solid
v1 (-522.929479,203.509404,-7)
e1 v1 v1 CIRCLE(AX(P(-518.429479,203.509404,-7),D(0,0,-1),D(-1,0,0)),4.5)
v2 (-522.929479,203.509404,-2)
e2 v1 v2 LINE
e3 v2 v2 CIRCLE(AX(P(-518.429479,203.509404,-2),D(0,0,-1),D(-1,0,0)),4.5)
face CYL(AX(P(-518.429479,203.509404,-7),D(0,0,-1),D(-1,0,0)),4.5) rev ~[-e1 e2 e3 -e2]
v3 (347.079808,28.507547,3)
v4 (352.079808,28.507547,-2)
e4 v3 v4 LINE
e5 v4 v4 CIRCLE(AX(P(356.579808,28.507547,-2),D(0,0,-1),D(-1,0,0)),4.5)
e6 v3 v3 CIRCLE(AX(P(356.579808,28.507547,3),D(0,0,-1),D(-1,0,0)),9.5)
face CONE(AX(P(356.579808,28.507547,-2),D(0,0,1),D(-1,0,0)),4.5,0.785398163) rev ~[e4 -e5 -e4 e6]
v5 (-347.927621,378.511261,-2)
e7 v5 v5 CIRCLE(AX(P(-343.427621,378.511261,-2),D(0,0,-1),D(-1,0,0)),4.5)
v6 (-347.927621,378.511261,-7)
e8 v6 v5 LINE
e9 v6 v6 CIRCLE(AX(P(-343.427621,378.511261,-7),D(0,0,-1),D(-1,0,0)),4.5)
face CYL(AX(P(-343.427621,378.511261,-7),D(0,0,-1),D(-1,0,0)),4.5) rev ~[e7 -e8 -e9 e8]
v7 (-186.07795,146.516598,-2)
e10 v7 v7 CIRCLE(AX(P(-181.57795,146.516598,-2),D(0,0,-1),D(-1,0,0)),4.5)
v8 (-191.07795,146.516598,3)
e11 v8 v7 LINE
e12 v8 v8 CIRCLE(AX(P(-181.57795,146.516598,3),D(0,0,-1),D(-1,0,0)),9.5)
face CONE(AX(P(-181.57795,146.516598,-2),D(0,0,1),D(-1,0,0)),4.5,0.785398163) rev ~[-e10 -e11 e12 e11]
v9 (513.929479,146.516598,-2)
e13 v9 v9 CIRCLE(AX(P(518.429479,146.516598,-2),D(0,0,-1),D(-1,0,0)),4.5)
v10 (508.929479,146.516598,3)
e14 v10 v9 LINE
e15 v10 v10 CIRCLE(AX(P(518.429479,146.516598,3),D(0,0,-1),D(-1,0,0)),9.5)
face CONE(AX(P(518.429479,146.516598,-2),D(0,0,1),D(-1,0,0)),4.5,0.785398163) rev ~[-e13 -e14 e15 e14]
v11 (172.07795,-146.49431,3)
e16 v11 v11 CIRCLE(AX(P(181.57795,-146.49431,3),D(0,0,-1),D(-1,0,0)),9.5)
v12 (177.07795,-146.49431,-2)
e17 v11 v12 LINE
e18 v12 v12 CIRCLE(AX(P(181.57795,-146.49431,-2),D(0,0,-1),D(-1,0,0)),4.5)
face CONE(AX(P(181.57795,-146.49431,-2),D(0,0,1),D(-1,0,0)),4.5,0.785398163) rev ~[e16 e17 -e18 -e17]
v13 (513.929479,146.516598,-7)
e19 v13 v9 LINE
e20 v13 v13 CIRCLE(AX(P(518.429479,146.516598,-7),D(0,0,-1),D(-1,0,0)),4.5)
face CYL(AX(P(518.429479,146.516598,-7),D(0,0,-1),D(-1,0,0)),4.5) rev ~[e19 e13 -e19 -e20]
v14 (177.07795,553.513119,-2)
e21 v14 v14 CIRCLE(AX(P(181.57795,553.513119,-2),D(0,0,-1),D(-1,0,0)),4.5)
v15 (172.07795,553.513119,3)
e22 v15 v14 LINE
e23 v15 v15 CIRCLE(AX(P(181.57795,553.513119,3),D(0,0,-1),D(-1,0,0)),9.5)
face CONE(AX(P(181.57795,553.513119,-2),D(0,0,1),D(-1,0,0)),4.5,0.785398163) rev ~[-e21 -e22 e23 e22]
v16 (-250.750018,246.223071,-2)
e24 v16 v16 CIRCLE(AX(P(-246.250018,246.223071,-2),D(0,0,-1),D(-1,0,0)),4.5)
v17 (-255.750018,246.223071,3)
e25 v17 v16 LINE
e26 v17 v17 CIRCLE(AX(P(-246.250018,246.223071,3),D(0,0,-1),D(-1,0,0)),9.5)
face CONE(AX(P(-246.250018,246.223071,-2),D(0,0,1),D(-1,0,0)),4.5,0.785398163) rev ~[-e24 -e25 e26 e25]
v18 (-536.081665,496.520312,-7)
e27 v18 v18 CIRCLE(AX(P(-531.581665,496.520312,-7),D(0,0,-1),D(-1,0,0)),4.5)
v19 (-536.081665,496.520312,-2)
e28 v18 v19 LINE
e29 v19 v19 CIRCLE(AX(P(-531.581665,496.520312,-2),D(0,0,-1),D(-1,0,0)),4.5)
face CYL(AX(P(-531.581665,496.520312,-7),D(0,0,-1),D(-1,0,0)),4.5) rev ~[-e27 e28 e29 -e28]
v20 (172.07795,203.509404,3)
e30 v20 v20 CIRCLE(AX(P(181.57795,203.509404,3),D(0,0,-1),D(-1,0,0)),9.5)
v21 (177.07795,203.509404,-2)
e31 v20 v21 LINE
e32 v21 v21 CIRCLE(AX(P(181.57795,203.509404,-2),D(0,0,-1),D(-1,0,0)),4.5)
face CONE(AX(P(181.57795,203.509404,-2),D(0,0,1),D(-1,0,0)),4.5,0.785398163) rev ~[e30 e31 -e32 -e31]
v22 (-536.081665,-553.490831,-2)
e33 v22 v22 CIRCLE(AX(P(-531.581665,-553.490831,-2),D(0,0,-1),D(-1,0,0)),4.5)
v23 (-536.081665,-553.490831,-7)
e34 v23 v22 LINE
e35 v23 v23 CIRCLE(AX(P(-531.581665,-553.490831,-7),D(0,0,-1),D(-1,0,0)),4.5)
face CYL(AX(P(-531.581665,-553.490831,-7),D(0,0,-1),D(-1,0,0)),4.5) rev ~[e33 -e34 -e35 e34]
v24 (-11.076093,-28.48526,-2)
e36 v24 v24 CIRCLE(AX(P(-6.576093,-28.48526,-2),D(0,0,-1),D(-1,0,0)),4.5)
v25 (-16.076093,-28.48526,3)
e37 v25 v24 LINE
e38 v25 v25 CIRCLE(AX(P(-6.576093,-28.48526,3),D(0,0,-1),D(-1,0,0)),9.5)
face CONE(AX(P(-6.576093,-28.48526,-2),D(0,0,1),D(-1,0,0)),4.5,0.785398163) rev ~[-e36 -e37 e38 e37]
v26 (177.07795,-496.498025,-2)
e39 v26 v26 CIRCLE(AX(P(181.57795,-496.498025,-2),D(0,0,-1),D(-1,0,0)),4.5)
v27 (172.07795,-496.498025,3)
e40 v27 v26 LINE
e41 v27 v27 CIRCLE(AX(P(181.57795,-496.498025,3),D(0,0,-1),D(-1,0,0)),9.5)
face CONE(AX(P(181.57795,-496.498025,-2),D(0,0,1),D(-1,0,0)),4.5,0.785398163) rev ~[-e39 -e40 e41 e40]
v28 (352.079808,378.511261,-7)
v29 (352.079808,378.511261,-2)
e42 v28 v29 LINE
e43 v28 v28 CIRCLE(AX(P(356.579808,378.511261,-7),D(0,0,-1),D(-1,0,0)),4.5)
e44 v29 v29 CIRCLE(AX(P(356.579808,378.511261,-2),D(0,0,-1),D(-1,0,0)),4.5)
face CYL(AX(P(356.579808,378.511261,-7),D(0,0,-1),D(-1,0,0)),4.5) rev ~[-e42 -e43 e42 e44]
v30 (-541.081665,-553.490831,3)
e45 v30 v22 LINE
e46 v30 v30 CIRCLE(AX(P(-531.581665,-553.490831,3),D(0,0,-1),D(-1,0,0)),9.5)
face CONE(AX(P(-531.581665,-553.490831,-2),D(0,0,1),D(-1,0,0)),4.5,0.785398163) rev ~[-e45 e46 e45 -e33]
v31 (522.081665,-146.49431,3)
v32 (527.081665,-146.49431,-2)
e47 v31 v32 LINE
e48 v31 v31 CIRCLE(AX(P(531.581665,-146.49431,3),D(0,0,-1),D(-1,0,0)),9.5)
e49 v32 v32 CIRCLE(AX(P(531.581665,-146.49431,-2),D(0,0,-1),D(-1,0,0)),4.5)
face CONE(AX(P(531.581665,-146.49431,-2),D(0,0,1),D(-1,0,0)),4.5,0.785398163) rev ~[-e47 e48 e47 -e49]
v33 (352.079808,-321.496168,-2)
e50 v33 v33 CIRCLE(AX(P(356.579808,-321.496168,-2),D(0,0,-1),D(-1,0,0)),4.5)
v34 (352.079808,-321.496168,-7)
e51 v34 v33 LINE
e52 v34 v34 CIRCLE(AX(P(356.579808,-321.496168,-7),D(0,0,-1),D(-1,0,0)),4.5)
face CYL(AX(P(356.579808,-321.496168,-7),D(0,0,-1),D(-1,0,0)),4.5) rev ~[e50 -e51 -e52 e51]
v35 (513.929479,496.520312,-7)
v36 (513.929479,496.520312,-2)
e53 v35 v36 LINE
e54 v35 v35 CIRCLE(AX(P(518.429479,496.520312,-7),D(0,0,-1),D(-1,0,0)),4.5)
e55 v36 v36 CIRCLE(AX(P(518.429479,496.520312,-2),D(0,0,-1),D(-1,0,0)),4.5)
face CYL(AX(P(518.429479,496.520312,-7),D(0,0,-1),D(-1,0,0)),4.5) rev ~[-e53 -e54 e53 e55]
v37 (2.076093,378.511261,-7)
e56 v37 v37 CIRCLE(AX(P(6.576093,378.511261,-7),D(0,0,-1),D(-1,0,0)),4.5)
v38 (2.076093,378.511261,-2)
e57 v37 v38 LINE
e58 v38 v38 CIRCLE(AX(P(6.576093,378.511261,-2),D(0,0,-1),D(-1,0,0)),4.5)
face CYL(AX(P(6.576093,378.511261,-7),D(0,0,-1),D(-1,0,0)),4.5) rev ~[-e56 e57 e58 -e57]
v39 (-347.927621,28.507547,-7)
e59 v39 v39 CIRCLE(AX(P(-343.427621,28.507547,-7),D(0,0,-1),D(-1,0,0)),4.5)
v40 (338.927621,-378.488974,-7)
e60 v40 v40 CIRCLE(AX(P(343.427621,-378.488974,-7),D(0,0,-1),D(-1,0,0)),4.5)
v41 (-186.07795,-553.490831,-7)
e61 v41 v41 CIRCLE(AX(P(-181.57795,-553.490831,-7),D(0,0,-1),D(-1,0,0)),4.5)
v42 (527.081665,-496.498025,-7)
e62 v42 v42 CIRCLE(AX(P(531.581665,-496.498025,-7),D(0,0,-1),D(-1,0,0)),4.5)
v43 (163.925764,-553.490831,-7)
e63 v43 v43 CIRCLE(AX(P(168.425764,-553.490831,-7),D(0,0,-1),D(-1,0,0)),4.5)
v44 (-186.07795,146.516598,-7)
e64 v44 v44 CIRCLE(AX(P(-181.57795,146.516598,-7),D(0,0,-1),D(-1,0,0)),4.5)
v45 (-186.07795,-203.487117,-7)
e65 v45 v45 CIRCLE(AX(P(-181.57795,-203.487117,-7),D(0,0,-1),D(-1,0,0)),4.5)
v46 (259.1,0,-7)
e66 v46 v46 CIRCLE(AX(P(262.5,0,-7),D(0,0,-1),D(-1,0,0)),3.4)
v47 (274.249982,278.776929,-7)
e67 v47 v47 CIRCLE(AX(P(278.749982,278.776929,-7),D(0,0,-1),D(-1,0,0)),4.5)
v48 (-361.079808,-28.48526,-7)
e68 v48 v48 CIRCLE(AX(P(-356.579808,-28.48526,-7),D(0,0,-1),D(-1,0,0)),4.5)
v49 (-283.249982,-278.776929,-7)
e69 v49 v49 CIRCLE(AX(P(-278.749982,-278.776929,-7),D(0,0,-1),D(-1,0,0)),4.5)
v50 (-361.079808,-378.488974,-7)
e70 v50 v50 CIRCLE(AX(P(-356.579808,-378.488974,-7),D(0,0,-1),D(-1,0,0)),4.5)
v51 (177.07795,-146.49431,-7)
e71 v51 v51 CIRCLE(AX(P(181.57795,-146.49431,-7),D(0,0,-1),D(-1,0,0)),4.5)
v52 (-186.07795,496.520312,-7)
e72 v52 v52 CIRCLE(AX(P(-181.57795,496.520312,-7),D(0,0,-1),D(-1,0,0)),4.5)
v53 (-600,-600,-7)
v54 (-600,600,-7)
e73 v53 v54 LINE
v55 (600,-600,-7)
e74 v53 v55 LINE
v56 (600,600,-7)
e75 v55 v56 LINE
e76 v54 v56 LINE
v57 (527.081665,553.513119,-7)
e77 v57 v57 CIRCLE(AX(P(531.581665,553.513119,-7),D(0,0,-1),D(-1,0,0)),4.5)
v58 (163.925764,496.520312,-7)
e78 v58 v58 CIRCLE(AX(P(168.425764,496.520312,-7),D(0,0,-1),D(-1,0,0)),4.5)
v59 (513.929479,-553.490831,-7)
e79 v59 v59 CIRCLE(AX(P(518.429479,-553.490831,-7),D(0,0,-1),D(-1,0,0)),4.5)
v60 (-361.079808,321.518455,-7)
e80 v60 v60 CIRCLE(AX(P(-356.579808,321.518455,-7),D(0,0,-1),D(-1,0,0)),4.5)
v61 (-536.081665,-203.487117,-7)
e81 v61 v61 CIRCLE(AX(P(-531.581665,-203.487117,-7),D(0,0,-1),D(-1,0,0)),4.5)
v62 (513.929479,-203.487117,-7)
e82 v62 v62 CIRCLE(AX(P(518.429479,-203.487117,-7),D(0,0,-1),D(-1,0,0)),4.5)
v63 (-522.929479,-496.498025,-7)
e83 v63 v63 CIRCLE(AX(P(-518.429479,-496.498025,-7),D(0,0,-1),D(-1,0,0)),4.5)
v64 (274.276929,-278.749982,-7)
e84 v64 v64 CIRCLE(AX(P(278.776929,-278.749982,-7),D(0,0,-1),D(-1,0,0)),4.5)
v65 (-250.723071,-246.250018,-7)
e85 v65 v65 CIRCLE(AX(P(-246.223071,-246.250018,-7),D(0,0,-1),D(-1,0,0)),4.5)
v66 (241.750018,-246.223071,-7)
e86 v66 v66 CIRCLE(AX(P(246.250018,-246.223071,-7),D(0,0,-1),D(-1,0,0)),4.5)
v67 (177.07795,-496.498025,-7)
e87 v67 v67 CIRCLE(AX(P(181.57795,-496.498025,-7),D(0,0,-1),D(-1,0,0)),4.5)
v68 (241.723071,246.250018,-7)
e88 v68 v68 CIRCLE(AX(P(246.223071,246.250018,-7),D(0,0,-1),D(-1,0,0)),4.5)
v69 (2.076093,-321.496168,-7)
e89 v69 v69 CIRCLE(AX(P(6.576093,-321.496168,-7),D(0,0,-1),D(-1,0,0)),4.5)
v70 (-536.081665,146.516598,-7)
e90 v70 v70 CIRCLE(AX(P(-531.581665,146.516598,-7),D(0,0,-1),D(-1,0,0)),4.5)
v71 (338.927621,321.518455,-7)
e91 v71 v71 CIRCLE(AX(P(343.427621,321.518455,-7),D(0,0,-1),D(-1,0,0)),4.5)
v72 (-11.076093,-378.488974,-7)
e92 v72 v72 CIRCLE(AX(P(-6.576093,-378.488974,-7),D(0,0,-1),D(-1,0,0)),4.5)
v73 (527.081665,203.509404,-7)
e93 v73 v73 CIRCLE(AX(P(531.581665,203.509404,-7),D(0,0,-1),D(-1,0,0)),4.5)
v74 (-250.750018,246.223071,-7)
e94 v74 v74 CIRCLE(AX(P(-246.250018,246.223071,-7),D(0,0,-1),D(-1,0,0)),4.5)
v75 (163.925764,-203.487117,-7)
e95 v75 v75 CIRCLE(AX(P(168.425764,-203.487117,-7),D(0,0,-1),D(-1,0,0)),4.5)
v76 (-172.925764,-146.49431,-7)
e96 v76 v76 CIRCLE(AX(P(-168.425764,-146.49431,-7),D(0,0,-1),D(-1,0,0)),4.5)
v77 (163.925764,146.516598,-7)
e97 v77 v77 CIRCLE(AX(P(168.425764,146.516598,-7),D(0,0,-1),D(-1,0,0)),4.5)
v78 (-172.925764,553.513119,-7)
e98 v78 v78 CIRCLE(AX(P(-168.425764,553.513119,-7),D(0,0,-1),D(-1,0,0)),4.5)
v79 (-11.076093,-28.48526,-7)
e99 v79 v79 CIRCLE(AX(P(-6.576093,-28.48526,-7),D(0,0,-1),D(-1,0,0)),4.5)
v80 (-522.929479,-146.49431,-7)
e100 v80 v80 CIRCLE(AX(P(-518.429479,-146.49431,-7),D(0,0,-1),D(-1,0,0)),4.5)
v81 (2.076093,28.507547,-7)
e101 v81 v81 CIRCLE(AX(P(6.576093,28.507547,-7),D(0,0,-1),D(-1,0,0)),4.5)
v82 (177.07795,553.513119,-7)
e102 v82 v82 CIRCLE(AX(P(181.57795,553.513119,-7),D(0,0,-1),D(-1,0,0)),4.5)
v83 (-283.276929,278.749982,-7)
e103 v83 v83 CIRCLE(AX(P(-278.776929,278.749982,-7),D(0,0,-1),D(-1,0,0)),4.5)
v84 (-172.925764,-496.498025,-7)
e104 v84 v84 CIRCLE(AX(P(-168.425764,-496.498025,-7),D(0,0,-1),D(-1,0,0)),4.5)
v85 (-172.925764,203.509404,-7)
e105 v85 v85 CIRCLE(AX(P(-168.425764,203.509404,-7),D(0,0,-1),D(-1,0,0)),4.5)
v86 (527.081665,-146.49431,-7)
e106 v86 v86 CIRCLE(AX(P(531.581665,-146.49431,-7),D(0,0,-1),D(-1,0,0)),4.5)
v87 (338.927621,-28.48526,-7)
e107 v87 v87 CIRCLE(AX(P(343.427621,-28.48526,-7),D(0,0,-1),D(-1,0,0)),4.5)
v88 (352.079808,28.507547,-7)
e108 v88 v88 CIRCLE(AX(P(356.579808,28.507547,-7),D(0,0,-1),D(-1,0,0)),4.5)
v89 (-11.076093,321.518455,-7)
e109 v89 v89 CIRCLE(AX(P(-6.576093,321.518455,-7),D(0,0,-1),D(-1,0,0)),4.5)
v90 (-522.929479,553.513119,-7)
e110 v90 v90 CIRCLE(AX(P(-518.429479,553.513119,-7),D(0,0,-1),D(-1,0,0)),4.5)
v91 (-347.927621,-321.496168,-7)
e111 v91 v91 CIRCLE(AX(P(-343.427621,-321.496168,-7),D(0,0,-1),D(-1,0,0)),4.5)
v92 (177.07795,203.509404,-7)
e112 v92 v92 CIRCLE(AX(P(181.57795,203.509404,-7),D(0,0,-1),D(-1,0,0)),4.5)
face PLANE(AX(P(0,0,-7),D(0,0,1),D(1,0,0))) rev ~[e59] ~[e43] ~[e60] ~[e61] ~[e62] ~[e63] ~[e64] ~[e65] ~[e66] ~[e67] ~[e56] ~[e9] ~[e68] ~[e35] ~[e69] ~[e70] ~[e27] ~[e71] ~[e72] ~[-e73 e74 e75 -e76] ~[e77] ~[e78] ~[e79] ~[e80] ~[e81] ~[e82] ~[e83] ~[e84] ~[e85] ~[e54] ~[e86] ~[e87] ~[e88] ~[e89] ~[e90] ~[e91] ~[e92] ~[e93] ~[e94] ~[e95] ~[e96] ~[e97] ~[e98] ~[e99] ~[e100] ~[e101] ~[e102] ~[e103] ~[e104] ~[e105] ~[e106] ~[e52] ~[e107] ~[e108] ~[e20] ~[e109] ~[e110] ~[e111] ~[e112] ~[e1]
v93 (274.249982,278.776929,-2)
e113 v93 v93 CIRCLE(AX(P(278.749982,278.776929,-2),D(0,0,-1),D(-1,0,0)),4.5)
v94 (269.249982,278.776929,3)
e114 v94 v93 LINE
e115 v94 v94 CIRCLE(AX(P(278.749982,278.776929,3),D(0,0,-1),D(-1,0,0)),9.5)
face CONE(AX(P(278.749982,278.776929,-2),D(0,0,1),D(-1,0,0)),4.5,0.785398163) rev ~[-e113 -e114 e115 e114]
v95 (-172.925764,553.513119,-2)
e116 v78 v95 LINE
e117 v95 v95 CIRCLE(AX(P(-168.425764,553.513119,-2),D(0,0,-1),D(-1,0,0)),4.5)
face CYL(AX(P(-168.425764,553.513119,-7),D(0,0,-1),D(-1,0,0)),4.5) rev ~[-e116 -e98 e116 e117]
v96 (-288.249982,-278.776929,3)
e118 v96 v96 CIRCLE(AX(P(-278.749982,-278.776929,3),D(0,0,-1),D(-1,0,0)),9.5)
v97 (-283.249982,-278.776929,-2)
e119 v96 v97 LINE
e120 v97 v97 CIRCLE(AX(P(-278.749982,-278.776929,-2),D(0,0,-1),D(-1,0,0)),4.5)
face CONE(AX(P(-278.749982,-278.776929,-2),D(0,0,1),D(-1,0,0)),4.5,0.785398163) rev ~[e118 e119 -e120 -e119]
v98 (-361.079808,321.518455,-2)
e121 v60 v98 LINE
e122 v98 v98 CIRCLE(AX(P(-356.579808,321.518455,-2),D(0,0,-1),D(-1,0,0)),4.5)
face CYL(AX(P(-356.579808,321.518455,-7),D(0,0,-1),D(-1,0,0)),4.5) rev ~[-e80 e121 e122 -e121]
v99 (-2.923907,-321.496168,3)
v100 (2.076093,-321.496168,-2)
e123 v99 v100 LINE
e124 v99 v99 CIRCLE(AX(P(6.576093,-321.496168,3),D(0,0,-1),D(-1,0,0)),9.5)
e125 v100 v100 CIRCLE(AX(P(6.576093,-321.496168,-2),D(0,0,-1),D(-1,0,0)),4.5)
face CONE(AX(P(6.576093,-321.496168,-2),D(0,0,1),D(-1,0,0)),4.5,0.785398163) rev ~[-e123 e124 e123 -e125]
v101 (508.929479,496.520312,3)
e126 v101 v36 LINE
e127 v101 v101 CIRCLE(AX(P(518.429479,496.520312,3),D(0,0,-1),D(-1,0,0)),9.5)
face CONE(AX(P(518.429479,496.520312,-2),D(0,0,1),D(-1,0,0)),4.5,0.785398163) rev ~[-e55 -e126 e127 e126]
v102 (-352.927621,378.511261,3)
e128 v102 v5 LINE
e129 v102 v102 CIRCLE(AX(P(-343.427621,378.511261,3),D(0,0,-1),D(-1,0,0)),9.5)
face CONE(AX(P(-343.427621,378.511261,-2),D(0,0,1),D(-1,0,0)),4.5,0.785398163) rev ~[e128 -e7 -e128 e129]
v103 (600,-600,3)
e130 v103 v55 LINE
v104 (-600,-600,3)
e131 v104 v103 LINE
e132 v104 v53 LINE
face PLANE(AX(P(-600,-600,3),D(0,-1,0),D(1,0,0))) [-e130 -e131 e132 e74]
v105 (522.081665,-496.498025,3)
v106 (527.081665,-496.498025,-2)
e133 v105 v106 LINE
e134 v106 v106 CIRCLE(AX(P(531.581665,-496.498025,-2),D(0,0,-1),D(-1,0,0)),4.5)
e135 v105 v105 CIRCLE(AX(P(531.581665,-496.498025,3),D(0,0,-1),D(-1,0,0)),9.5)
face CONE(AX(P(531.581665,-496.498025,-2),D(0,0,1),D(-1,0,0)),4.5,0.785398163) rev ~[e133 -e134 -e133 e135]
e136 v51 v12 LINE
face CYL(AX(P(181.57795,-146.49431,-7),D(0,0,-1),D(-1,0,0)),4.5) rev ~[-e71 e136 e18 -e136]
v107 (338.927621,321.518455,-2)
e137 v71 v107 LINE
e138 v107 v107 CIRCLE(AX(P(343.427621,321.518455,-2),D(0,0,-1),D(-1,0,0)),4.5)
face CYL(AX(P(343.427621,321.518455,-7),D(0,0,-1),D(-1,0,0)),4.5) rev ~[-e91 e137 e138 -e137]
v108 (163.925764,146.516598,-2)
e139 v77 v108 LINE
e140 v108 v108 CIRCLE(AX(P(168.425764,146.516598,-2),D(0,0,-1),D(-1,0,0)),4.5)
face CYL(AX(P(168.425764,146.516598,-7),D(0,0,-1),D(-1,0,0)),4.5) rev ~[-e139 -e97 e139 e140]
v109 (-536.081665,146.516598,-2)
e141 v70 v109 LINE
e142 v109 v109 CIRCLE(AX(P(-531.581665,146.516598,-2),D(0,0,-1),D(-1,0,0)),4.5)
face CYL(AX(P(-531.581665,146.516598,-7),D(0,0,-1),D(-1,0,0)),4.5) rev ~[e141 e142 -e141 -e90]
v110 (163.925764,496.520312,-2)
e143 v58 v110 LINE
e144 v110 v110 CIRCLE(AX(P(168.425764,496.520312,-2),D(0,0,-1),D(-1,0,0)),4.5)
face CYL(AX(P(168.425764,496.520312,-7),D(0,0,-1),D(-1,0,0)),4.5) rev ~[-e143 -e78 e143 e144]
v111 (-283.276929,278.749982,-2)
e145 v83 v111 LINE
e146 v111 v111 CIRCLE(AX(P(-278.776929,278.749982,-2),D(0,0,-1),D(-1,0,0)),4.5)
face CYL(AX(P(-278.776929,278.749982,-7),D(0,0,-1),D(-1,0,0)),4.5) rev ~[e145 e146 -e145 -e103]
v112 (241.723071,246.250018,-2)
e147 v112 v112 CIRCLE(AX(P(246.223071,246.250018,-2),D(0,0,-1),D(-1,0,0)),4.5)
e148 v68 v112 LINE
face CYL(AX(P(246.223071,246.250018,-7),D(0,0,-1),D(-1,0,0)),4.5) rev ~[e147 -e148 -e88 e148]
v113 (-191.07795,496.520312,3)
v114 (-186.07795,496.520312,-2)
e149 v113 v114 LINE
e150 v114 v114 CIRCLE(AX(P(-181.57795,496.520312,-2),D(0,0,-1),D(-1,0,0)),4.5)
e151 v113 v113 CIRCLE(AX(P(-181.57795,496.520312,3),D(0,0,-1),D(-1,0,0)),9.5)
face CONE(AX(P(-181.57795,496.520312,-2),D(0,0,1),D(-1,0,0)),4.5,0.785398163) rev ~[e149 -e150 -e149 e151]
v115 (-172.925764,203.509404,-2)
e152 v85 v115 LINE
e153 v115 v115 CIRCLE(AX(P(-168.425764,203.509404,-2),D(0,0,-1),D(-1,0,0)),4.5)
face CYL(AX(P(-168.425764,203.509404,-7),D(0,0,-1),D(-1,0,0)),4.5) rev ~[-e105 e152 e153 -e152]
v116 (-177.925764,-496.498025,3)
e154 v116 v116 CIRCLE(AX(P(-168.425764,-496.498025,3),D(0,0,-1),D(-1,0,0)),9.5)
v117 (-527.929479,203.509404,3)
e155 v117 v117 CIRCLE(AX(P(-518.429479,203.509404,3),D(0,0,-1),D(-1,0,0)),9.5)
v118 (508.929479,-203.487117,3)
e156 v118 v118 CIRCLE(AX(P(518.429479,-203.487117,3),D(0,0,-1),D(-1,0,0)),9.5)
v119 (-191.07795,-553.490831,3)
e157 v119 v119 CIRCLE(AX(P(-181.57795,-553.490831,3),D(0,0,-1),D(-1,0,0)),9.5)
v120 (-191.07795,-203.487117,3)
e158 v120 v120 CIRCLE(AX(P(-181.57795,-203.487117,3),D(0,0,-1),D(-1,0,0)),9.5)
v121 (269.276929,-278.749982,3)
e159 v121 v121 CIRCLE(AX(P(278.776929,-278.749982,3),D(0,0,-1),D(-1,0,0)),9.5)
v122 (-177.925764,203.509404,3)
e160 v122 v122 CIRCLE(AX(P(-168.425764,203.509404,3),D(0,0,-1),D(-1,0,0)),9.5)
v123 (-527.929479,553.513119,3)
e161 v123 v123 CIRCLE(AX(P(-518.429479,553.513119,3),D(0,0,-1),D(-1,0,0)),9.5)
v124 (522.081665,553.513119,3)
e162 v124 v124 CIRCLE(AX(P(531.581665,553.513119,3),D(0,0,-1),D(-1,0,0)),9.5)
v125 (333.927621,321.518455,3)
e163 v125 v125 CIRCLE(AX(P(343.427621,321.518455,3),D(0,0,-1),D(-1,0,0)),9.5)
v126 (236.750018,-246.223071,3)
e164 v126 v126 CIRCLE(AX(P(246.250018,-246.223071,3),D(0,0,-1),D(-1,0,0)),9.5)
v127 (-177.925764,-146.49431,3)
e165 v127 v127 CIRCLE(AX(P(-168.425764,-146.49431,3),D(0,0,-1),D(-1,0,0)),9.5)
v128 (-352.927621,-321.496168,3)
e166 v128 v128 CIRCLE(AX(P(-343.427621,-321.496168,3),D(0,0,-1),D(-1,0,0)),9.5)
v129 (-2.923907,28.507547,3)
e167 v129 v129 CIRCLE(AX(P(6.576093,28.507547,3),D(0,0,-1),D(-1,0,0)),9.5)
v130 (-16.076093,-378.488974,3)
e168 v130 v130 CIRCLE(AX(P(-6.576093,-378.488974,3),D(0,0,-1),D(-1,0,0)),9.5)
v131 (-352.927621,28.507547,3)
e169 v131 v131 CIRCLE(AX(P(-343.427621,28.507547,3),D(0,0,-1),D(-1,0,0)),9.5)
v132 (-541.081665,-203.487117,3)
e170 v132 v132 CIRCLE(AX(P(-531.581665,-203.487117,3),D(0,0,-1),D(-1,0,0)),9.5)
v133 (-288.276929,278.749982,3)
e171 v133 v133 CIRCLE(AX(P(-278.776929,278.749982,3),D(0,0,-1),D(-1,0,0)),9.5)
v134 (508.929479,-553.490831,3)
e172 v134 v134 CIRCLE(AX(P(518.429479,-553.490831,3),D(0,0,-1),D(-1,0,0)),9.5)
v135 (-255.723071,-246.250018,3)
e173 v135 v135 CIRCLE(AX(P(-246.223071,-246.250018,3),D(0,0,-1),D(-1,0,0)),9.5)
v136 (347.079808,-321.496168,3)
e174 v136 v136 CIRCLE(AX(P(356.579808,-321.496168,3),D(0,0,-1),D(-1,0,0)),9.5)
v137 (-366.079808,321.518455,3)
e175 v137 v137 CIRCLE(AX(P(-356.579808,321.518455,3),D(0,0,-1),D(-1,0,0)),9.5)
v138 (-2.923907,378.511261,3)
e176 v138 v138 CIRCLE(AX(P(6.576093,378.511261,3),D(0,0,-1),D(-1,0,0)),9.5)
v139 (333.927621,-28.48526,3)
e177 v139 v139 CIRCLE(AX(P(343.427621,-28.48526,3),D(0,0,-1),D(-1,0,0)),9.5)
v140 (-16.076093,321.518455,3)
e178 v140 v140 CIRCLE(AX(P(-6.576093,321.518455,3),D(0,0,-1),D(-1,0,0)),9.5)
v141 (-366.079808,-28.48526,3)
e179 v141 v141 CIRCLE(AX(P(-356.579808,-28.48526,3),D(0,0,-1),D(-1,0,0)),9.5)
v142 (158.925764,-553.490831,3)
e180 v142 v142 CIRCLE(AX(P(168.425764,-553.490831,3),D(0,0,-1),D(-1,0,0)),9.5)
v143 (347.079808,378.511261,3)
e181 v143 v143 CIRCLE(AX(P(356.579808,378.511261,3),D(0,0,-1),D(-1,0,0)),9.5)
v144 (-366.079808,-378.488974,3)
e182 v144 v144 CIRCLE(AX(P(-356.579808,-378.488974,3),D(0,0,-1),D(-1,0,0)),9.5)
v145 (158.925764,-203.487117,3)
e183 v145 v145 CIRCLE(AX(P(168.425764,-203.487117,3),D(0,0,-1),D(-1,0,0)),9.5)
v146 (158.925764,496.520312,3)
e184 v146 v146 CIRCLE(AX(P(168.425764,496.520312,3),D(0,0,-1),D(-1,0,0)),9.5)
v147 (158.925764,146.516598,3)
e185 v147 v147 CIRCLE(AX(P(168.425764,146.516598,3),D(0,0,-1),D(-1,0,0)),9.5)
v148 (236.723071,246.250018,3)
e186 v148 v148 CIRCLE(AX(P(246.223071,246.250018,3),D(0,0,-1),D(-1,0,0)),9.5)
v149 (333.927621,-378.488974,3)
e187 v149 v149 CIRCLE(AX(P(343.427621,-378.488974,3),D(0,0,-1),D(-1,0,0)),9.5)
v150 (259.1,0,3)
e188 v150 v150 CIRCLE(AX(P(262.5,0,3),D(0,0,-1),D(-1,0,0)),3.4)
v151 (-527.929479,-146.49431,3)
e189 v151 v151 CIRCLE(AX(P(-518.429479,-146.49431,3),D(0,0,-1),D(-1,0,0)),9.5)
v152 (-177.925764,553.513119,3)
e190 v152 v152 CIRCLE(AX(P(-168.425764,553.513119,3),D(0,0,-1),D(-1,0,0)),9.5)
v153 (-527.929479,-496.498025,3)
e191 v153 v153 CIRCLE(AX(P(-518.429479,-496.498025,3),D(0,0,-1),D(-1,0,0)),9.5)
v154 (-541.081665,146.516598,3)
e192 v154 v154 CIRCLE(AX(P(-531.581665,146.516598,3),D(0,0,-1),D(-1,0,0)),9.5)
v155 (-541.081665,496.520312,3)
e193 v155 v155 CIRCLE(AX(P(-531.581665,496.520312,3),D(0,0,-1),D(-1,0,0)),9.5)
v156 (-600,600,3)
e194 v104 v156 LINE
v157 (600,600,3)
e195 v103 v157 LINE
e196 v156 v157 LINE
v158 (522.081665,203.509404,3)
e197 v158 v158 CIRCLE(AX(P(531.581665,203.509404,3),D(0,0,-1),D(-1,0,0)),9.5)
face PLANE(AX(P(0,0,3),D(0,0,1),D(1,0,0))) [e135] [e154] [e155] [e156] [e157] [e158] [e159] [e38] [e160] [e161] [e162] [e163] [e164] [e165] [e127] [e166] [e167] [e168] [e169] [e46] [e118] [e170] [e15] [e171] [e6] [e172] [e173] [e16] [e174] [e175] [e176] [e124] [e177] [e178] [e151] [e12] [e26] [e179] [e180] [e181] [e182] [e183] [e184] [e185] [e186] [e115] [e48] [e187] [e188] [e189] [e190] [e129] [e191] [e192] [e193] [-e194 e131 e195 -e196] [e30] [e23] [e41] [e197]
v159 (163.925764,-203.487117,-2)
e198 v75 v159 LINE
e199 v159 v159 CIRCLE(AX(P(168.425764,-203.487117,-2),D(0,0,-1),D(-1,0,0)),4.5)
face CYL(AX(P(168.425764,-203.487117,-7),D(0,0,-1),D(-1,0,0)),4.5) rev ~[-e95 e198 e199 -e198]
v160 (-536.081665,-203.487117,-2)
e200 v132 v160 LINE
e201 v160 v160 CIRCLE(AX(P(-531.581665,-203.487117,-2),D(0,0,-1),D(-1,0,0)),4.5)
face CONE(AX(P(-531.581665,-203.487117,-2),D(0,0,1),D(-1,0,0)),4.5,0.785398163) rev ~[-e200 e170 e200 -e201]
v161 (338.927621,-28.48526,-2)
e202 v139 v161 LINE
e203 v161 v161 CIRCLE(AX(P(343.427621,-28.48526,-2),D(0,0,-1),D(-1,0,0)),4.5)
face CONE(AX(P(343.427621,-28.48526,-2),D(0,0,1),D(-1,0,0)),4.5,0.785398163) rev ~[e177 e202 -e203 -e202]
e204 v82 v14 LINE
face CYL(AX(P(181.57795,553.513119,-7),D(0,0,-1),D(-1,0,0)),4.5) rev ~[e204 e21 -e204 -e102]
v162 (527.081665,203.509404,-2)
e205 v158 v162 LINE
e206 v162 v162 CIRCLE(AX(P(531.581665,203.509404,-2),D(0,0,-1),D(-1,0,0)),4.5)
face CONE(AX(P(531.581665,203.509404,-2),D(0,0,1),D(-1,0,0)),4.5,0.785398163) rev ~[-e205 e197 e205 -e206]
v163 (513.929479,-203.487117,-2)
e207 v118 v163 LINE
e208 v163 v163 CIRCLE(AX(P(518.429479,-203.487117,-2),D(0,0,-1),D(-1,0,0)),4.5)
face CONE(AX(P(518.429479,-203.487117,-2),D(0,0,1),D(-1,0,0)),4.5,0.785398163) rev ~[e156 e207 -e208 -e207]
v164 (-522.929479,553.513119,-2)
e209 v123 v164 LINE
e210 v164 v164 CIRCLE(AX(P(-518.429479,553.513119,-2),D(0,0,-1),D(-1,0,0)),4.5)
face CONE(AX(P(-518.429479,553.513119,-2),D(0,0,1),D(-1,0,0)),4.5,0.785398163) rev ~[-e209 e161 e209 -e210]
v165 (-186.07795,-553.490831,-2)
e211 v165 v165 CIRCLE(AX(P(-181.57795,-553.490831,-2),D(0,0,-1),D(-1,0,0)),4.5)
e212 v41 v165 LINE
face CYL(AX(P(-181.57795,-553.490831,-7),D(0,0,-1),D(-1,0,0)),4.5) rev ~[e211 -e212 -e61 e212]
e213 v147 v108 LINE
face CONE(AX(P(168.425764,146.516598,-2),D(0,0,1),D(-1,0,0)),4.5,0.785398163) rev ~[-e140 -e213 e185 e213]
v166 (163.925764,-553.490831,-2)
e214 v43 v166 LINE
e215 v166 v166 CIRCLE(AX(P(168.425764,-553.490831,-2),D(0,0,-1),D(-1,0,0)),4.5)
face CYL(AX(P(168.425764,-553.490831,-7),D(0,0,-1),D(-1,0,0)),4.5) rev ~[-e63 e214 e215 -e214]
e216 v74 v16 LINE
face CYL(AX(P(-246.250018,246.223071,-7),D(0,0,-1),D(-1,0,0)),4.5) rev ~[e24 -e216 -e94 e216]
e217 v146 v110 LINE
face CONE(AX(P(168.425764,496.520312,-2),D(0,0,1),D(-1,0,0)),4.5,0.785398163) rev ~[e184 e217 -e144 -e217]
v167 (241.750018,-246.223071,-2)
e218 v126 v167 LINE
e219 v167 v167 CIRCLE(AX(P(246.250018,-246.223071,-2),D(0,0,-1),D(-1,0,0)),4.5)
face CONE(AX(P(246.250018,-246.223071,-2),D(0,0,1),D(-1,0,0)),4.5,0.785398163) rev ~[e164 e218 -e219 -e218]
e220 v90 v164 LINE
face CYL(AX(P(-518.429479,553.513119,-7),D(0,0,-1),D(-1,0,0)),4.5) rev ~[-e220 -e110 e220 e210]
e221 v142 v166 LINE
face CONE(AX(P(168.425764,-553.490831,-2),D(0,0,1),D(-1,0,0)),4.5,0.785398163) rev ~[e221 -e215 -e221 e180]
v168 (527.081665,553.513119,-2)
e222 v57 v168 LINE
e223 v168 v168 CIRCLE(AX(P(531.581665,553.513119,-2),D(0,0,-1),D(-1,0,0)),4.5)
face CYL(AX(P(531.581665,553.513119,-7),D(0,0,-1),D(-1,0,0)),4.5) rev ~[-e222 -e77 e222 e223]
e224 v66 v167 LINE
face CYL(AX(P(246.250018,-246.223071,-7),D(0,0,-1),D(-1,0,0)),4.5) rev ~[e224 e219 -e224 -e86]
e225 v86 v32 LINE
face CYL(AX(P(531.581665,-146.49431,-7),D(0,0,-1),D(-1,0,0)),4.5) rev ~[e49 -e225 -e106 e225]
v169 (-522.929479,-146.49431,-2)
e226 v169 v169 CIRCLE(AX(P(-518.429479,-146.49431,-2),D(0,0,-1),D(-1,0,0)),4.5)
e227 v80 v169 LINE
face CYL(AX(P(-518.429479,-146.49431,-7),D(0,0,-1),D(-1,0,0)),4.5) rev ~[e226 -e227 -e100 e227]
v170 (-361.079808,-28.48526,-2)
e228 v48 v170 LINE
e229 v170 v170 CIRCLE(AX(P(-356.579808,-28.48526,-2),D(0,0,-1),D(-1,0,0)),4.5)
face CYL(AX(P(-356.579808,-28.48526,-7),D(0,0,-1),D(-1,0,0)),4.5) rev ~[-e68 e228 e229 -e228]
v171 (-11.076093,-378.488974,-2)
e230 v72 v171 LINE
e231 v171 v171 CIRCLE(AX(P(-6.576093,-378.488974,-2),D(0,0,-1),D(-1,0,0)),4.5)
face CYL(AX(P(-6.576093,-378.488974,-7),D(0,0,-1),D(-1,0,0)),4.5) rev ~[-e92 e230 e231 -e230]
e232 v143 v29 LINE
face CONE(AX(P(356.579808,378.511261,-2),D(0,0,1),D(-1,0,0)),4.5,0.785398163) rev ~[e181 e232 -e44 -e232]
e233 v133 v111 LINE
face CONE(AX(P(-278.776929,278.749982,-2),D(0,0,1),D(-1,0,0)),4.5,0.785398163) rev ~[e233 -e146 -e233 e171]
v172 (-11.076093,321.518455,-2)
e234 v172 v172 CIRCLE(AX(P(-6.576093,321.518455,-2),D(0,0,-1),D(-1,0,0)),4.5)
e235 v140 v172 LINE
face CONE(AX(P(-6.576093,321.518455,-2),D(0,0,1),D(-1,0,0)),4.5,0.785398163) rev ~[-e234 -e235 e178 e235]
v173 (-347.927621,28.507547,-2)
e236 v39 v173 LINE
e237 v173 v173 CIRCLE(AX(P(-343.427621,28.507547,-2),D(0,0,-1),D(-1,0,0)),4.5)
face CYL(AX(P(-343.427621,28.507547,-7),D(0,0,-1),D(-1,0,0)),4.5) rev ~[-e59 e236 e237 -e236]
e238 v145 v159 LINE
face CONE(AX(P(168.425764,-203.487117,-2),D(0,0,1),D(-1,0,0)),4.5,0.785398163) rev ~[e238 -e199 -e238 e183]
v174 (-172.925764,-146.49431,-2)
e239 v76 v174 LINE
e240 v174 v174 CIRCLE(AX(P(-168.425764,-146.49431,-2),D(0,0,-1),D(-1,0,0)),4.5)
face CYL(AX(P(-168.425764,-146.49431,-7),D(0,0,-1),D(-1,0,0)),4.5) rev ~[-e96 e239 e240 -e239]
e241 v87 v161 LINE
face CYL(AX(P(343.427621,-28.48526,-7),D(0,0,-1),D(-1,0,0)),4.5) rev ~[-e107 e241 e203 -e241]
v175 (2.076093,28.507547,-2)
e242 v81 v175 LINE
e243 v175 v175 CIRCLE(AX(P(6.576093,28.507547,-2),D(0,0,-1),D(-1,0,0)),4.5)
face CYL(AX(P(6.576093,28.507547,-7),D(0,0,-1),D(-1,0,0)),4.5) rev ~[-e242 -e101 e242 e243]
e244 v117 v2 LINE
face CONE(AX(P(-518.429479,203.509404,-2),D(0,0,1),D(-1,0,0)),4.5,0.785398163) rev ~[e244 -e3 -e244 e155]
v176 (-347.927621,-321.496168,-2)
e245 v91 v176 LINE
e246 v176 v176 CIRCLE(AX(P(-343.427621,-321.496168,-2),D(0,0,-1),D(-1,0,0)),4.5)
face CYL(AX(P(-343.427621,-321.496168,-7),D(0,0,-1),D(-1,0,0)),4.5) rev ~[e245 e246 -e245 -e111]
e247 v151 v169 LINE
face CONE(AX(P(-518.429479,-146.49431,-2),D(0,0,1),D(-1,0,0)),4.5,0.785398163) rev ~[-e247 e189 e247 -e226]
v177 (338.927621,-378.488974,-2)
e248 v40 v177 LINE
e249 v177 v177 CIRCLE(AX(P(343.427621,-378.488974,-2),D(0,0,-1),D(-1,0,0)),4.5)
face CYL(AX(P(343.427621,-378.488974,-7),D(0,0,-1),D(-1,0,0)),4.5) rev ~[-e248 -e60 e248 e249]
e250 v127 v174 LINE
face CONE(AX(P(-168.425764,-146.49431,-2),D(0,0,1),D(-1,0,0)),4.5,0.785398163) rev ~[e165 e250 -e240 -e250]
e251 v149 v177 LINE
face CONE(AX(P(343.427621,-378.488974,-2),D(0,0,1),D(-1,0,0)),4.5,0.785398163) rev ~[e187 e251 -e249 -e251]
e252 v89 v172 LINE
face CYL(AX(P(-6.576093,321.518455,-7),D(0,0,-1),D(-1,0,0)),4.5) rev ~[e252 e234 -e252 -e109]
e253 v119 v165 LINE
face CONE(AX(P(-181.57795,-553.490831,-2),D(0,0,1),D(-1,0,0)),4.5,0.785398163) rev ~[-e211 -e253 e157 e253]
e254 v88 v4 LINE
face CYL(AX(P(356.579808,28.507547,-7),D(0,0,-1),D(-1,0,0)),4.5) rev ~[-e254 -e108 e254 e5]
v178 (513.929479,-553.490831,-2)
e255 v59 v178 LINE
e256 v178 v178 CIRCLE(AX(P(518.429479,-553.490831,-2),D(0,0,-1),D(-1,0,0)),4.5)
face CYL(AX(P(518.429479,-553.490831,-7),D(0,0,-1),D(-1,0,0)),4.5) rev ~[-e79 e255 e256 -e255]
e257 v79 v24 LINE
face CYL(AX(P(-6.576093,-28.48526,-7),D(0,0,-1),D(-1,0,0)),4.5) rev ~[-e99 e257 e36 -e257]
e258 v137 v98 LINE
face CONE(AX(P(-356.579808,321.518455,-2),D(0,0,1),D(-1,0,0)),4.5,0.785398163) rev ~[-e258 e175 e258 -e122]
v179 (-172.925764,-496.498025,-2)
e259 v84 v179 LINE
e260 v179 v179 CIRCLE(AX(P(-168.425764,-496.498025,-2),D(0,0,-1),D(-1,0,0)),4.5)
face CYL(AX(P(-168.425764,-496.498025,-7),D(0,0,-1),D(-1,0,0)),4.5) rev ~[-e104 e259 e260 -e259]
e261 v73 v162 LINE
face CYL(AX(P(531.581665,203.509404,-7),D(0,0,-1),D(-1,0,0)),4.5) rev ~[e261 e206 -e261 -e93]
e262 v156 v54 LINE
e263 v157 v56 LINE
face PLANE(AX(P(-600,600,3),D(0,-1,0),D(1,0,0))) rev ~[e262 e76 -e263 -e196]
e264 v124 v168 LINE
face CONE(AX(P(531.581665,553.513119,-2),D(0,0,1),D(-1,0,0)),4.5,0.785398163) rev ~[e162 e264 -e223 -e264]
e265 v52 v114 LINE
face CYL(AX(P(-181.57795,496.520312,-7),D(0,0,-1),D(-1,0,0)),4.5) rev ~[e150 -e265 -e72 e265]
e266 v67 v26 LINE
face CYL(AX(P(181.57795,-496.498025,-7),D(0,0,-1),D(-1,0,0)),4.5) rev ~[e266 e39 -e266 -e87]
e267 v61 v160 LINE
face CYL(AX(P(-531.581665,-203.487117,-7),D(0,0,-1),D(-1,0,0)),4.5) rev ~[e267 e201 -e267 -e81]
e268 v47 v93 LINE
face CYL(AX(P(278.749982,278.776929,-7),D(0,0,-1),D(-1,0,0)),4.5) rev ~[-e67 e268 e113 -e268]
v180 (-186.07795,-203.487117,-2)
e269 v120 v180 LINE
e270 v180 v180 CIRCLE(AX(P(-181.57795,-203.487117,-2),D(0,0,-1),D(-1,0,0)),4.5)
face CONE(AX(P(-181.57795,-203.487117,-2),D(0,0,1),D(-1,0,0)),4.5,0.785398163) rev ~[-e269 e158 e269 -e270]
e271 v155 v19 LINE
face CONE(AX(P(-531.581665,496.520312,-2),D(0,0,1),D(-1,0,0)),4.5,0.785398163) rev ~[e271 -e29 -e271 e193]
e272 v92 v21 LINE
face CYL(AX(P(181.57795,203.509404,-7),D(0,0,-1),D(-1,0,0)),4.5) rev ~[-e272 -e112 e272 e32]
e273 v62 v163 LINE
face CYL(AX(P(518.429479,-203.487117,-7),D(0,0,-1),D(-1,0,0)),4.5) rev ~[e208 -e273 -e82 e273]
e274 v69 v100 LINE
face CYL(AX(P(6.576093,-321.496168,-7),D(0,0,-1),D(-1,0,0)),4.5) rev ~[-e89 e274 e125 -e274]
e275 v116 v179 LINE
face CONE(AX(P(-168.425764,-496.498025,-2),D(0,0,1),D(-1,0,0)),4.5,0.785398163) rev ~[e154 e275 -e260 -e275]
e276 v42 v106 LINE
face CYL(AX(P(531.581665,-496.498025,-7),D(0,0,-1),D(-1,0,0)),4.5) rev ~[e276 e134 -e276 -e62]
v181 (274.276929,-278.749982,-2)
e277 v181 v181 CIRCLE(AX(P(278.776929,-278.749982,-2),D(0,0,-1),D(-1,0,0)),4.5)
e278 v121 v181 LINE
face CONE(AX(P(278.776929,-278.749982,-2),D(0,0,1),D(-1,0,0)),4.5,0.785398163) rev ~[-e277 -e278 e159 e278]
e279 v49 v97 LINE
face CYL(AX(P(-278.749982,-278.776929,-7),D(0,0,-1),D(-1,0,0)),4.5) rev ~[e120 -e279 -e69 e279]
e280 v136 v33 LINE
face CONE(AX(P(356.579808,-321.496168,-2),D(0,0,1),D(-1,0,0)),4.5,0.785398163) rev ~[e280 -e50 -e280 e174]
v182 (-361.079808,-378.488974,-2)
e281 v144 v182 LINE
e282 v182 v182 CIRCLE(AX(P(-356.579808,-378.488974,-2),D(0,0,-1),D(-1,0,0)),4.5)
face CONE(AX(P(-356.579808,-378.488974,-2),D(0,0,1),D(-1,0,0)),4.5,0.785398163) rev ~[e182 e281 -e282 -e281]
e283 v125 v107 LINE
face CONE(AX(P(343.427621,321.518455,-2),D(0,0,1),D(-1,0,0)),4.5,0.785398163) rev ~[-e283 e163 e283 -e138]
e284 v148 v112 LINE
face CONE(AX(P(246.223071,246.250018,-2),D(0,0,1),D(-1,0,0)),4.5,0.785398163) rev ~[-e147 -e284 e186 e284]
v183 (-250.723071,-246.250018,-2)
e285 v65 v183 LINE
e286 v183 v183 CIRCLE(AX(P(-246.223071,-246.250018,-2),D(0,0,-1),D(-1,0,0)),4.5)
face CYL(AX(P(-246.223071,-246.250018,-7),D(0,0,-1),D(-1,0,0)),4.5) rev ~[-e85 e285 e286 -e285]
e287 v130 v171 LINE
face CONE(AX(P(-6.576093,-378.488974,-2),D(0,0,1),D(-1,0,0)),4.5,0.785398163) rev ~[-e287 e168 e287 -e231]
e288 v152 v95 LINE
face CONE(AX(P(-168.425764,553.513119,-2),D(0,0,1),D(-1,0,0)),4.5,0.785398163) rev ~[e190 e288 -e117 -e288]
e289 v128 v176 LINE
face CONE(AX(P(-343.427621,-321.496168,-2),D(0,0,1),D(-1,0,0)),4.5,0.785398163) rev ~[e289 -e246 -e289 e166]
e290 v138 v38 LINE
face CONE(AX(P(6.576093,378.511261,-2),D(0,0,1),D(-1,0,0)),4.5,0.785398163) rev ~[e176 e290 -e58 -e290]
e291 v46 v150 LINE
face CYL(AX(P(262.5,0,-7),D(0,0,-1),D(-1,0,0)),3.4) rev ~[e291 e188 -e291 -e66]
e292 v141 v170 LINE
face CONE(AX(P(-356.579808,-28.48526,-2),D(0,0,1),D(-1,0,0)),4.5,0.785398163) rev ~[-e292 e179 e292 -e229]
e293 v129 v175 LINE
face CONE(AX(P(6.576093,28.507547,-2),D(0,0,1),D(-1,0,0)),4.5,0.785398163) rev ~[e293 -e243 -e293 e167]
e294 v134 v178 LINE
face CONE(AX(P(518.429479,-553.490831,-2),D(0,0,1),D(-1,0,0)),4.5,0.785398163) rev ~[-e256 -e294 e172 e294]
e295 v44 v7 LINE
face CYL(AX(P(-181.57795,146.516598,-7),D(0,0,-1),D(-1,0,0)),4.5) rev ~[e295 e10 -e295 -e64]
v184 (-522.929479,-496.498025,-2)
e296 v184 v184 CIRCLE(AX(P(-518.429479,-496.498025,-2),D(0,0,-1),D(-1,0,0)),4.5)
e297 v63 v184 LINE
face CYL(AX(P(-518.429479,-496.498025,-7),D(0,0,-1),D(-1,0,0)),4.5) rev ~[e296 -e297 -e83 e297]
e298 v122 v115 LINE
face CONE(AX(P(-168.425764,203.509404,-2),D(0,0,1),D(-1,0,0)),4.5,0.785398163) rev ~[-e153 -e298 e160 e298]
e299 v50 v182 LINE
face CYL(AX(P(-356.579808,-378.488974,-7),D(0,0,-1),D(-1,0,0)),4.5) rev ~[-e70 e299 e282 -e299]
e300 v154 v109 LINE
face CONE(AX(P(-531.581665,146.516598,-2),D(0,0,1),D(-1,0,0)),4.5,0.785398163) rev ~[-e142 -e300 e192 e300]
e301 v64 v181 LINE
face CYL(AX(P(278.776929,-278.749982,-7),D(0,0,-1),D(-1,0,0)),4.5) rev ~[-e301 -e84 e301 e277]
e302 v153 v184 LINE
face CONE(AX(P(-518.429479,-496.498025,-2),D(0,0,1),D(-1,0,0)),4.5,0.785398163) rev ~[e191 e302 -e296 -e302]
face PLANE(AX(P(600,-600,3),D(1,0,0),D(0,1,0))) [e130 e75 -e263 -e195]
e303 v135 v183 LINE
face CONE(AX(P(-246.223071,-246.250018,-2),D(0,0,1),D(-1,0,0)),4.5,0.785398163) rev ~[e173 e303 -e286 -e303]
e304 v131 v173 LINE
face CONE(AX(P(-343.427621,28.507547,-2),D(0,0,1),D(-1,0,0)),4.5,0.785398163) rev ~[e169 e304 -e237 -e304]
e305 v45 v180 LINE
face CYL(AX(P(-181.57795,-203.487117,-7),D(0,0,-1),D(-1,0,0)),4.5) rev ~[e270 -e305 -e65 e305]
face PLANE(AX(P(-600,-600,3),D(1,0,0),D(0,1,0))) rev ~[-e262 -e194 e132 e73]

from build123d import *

# Parameters (mm, degrees)
BOSS_EXTRUDE1_START = 3
SKETCH1_W           = 1200
SKETCH1_H           = 1200
BOSS_EXTRUDE1_DEPTH = 10
SKETCH2_R           = 4.5
CUT_EXTRUDE1_DEPTH  = 11
CHAMFER1_SIZE       = 5
CUT_EXTRUDE2_REACH  = 12
SKETCH3_R           = 3.4


with BuildPart() as part:
    # Sketch1 → Boss-Extrude1 (new body)
    with BuildSketch(Plane.XY.offset(BOSS_EXTRUDE1_START)):
        Rectangle(SKETCH1_W, SKETCH1_H)
    extrude(amount=-BOSS_EXTRUDE1_DEPTH)

    # Sketch2 → Cut-Extrude1 (cut, through all)
    with BuildSketch(Plane(origin=(0, 0, -7), x_dir=(-1, 0, 0), z_dir=(0, 0, -1))):
        with Locations((-278.749982464, 278.776929471)):
            Circle(SKETCH2_R)
        with Locations((-246.223070529, 246.250017536)):
            Circle(SKETCH2_R)
        with Locations((246.250017536, 246.223070529)):
            Circle(SKETCH2_R)
        with Locations((278.776929471, 278.749982464)):
            Circle(SKETCH2_R)
        with Locations((246.223070529, -246.250017536)):
            Circle(SKETCH2_R)
        with Locations((278.749982464, -278.776929471)):
            Circle(SKETCH2_R)
        with Locations((-246.250017536, -246.223070529)):
            Circle(SKETCH2_R)
        with Locations((-278.776929471, -278.749982464)):
            Circle(SKETCH2_R)
        with Locations((-531.581664893, 553.513118765)):
            Circle(SKETCH2_R)
        with Locations((-518.429478763, 496.520312201)):
            Circle(SKETCH2_R)
        with Locations((-531.581664893, 203.509404213)):
            Circle(SKETCH2_R)
        with Locations((-518.429478763, 146.516597649)):
            Circle(SKETCH2_R)
        with Locations((-343.427621487, 321.518454925)):
            Circle(SKETCH2_R)
        with Locations((-356.579807617, 378.511261489)):
            Circle(SKETCH2_R)
        with Locations((-181.577950341, 553.513118765)):
            Circle(SKETCH2_R)
        with Locations((-168.425764211, 496.520312201)):
            Circle(SKETCH2_R)
        with Locations((168.425764211, 553.513118765)):
            Circle(SKETCH2_R)
        with Locations((181.577950341, 496.520312201)):
            Circle(SKETCH2_R)
        with Locations((-6.576093065, 378.511261489)):
            Circle(SKETCH2_R)
        with Locations((6.576093065, 321.518454925)):
            Circle(SKETCH2_R)
        with Locations((-181.577950341, 203.509404213)):
            Circle(SKETCH2_R)
        with Locations((-168.425764211, 146.516597649)):
            Circle(SKETCH2_R)
        with Locations((-356.579807617, 28.507546937)):
            Circle(SKETCH2_R)
        with Locations((-343.427621487, -28.485259627)):
            Circle(SKETCH2_R)
        with Locations((-518.429478763, -203.487116903)):
            Circle(SKETCH2_R)
        with Locations((-531.581664893, -146.494310339)):
            Circle(SKETCH2_R)
        with Locations((-531.581664893, -496.498024891)):
            Circle(SKETCH2_R)
        with Locations((-518.429478763, -553.490831454)):
            Circle(SKETCH2_R)
        with Locations((-356.579807617, -321.496167615)):
            Circle(SKETCH2_R)
        with Locations((-343.427621487, -378.488974178)):
            Circle(SKETCH2_R)
        with Locations((-181.577950341, -146.494310339)):
            Circle(SKETCH2_R)
        with Locations((-168.425764211, -203.487116903)):
            Circle(SKETCH2_R)
        with Locations((-6.576093065, 28.507546937)):
            Circle(SKETCH2_R)
        with Locations((6.576093065, -28.485259627)):
            Circle(SKETCH2_R)
        with Locations((168.425764211, 203.509404213)):
            Circle(SKETCH2_R)
        with Locations((181.577950341, 146.516597649)):
            Circle(SKETCH2_R)
        with Locations((343.427621487, 378.511261489)):
            Circle(SKETCH2_R)
        with Locations((356.579807617, 321.518454925)):
            Circle(SKETCH2_R)
        with Locations((518.429478763, 553.513118765)):
            Circle(SKETCH2_R)
        with Locations((531.581664893, 496.520312201)):
            Circle(SKETCH2_R)
        with Locations((-181.577950341, -496.498024891)):
            Circle(SKETCH2_R)
        with Locations((-168.425764211, -553.490831454)):
            Circle(SKETCH2_R)
        with Locations((-6.576093065, -321.496167615)):
            Circle(SKETCH2_R)
        with Locations((6.576093065, -378.488974178)):
            Circle(SKETCH2_R)
        with Locations((168.425764211, -146.494310339)):
            Circle(SKETCH2_R)
        with Locations((181.577950341, -203.487116903)):
            Circle(SKETCH2_R)
        with Locations((343.427621487, 28.507546937)):
            Circle(SKETCH2_R)
        with Locations((356.579807617, -28.485259627)):
            Circle(SKETCH2_R)
        with Locations((518.429478763, 203.509404213)):
            Circle(SKETCH2_R)
        with Locations((531.581664893, 146.516597649)):
            Circle(SKETCH2_R)
        with Locations((168.425764211, -496.498024891)):
            Circle(SKETCH2_R)
        with Locations((181.577950341, -553.490831454)):
            Circle(SKETCH2_R)
        with Locations((343.427621487, -321.496167615)):
            Circle(SKETCH2_R)
        with Locations((356.579807617, -378.488974178)):
            Circle(SKETCH2_R)
        with Locations((531.581664893, -203.487116903)):
            Circle(SKETCH2_R)
        with Locations((518.429478763, -146.494310339)):
            Circle(SKETCH2_R)
        with Locations((518.429478763, -496.498024891)):
            Circle(SKETCH2_R)
        with Locations((531.581664893, -553.490831454)):
            Circle(SKETCH2_R)
    extrude(amount=-CUT_EXTRUDE1_DEPTH, mode=Mode.SUBTRACT)

    # Chamfer1
    chamfer1_edges = [part.edges().sort_by_distance(p)[0] for p in [
        (522.929478763, -553.490831454, 3),
        (361.079807617, -321.496167615, 3),
        (347.927621487, -378.488974178, 3),
        (186.077950341, -146.494310339, 3),
        (172.925764211, -203.487116903, 3),
        (11.076093065, 28.507546937, 3),
        (536.081664893, 553.513118765, 3),
        (283.276929471, -278.749982464, 3),
        (250.750017536, -246.223070529, 3),
        (-274.249982464, -278.776929471, 3),
        (283.249982464, 278.776929471, 3),
        (-241.750017536, 246.223070529, 3),
        (-274.276929471, 278.749982464, 3),
        (-241.723070529, -246.250017536, 3),
        (-163.925764211, 553.513118765, 3),
        (172.925764211, 496.520312201, 3),
        (186.077950341, 553.513118765, 3),
        (361.079807617, 378.511261489, 3),
        (522.929478763, 496.520312201, 3),
        (536.081664893, 203.509404213, 3),
        (522.929478763, 146.516597649, 3),
        (347.927621487, 321.518454925, 3),
        (-352.079807617, -378.488974178, 3),
        (-527.081664893, -203.487116903, 3),
        (-513.929478763, -146.494310339, 3),
        (-513.929478763, -496.498024891, 3),
        (-527.081664893, 146.516597649, 3),
        (-163.925764211, -496.498024891, 3),
        (-177.077950341, -553.490831454, 3),
        (-338.927621487, -321.496167615, 3),
        (-527.081664893, -553.490831454, 3),
        (-352.079807617, 321.518454925, 3),
        (-513.929478763, 553.513118765, 3),
        (-527.081664893, 496.520312201, 3),
        (186.077950341, -496.498024891, 3),
        (-338.927621487, 378.511261489, 3),
        (-177.077950341, 146.516597649, 3),
        (-163.925764211, 203.509404213, 3),
        (-2.076093065, -28.485259627, 3),
        (172.925764211, -553.490831454, 3),
        (11.076093065, -321.496167615, 3),
        (-2.076093065, -378.488974178, 3),
        (-163.925764211, -146.494310339, 3),
        (-177.077950341, -203.487116903, 3),
        (-338.927621487, 28.507546937, 3),
        (-352.079807617, -28.485259627, 3),
        (-513.929478763, 203.509404213, 3),
        (250.723070529, 246.250017536, 3),
        (-177.077950341, 496.520312201, 3),
        (11.076093065, 378.511261489, 3),
        (-2.076093065, 321.518454925, 3),
        (186.077950341, 203.509404213, 3),
        (172.925764211, 146.516597649, 3),
        (361.079807617, 28.507546937, 3),
        (347.927621487, -28.485259627, 3),
        (522.929478763, -203.487116903, 3),
        (536.081664893, -146.494310339, 3),
        (536.081664893, -496.498024891, 3),
    ]]
    chamfer(chamfer1_edges, length=CHAMFER1_SIZE)

    # Sketch3 → Cut-Extrude2 (cut, up to next)
    with BuildSketch(Plane(origin=(0, 0, -7), x_dir=(-1, 0, 0), z_dir=(0, 0, -1)), mode=Mode.PRIVATE) as cut_extrude2_sk1:
        with Locations((-262.5, 0)):
            Circle(SKETCH3_R)
    cut_extrude2_tool1 = extrude(cut_extrude2_sk1.sketch, amount=-CUT_EXTRUDE2_REACH, mode=Mode.PRIVATE) & part.part
    add(cut_extrude2_tool1.solids().sort_by_distance((262.5, 0, -7))[0], mode=Mode.SUBTRACT)


solid = part.part
